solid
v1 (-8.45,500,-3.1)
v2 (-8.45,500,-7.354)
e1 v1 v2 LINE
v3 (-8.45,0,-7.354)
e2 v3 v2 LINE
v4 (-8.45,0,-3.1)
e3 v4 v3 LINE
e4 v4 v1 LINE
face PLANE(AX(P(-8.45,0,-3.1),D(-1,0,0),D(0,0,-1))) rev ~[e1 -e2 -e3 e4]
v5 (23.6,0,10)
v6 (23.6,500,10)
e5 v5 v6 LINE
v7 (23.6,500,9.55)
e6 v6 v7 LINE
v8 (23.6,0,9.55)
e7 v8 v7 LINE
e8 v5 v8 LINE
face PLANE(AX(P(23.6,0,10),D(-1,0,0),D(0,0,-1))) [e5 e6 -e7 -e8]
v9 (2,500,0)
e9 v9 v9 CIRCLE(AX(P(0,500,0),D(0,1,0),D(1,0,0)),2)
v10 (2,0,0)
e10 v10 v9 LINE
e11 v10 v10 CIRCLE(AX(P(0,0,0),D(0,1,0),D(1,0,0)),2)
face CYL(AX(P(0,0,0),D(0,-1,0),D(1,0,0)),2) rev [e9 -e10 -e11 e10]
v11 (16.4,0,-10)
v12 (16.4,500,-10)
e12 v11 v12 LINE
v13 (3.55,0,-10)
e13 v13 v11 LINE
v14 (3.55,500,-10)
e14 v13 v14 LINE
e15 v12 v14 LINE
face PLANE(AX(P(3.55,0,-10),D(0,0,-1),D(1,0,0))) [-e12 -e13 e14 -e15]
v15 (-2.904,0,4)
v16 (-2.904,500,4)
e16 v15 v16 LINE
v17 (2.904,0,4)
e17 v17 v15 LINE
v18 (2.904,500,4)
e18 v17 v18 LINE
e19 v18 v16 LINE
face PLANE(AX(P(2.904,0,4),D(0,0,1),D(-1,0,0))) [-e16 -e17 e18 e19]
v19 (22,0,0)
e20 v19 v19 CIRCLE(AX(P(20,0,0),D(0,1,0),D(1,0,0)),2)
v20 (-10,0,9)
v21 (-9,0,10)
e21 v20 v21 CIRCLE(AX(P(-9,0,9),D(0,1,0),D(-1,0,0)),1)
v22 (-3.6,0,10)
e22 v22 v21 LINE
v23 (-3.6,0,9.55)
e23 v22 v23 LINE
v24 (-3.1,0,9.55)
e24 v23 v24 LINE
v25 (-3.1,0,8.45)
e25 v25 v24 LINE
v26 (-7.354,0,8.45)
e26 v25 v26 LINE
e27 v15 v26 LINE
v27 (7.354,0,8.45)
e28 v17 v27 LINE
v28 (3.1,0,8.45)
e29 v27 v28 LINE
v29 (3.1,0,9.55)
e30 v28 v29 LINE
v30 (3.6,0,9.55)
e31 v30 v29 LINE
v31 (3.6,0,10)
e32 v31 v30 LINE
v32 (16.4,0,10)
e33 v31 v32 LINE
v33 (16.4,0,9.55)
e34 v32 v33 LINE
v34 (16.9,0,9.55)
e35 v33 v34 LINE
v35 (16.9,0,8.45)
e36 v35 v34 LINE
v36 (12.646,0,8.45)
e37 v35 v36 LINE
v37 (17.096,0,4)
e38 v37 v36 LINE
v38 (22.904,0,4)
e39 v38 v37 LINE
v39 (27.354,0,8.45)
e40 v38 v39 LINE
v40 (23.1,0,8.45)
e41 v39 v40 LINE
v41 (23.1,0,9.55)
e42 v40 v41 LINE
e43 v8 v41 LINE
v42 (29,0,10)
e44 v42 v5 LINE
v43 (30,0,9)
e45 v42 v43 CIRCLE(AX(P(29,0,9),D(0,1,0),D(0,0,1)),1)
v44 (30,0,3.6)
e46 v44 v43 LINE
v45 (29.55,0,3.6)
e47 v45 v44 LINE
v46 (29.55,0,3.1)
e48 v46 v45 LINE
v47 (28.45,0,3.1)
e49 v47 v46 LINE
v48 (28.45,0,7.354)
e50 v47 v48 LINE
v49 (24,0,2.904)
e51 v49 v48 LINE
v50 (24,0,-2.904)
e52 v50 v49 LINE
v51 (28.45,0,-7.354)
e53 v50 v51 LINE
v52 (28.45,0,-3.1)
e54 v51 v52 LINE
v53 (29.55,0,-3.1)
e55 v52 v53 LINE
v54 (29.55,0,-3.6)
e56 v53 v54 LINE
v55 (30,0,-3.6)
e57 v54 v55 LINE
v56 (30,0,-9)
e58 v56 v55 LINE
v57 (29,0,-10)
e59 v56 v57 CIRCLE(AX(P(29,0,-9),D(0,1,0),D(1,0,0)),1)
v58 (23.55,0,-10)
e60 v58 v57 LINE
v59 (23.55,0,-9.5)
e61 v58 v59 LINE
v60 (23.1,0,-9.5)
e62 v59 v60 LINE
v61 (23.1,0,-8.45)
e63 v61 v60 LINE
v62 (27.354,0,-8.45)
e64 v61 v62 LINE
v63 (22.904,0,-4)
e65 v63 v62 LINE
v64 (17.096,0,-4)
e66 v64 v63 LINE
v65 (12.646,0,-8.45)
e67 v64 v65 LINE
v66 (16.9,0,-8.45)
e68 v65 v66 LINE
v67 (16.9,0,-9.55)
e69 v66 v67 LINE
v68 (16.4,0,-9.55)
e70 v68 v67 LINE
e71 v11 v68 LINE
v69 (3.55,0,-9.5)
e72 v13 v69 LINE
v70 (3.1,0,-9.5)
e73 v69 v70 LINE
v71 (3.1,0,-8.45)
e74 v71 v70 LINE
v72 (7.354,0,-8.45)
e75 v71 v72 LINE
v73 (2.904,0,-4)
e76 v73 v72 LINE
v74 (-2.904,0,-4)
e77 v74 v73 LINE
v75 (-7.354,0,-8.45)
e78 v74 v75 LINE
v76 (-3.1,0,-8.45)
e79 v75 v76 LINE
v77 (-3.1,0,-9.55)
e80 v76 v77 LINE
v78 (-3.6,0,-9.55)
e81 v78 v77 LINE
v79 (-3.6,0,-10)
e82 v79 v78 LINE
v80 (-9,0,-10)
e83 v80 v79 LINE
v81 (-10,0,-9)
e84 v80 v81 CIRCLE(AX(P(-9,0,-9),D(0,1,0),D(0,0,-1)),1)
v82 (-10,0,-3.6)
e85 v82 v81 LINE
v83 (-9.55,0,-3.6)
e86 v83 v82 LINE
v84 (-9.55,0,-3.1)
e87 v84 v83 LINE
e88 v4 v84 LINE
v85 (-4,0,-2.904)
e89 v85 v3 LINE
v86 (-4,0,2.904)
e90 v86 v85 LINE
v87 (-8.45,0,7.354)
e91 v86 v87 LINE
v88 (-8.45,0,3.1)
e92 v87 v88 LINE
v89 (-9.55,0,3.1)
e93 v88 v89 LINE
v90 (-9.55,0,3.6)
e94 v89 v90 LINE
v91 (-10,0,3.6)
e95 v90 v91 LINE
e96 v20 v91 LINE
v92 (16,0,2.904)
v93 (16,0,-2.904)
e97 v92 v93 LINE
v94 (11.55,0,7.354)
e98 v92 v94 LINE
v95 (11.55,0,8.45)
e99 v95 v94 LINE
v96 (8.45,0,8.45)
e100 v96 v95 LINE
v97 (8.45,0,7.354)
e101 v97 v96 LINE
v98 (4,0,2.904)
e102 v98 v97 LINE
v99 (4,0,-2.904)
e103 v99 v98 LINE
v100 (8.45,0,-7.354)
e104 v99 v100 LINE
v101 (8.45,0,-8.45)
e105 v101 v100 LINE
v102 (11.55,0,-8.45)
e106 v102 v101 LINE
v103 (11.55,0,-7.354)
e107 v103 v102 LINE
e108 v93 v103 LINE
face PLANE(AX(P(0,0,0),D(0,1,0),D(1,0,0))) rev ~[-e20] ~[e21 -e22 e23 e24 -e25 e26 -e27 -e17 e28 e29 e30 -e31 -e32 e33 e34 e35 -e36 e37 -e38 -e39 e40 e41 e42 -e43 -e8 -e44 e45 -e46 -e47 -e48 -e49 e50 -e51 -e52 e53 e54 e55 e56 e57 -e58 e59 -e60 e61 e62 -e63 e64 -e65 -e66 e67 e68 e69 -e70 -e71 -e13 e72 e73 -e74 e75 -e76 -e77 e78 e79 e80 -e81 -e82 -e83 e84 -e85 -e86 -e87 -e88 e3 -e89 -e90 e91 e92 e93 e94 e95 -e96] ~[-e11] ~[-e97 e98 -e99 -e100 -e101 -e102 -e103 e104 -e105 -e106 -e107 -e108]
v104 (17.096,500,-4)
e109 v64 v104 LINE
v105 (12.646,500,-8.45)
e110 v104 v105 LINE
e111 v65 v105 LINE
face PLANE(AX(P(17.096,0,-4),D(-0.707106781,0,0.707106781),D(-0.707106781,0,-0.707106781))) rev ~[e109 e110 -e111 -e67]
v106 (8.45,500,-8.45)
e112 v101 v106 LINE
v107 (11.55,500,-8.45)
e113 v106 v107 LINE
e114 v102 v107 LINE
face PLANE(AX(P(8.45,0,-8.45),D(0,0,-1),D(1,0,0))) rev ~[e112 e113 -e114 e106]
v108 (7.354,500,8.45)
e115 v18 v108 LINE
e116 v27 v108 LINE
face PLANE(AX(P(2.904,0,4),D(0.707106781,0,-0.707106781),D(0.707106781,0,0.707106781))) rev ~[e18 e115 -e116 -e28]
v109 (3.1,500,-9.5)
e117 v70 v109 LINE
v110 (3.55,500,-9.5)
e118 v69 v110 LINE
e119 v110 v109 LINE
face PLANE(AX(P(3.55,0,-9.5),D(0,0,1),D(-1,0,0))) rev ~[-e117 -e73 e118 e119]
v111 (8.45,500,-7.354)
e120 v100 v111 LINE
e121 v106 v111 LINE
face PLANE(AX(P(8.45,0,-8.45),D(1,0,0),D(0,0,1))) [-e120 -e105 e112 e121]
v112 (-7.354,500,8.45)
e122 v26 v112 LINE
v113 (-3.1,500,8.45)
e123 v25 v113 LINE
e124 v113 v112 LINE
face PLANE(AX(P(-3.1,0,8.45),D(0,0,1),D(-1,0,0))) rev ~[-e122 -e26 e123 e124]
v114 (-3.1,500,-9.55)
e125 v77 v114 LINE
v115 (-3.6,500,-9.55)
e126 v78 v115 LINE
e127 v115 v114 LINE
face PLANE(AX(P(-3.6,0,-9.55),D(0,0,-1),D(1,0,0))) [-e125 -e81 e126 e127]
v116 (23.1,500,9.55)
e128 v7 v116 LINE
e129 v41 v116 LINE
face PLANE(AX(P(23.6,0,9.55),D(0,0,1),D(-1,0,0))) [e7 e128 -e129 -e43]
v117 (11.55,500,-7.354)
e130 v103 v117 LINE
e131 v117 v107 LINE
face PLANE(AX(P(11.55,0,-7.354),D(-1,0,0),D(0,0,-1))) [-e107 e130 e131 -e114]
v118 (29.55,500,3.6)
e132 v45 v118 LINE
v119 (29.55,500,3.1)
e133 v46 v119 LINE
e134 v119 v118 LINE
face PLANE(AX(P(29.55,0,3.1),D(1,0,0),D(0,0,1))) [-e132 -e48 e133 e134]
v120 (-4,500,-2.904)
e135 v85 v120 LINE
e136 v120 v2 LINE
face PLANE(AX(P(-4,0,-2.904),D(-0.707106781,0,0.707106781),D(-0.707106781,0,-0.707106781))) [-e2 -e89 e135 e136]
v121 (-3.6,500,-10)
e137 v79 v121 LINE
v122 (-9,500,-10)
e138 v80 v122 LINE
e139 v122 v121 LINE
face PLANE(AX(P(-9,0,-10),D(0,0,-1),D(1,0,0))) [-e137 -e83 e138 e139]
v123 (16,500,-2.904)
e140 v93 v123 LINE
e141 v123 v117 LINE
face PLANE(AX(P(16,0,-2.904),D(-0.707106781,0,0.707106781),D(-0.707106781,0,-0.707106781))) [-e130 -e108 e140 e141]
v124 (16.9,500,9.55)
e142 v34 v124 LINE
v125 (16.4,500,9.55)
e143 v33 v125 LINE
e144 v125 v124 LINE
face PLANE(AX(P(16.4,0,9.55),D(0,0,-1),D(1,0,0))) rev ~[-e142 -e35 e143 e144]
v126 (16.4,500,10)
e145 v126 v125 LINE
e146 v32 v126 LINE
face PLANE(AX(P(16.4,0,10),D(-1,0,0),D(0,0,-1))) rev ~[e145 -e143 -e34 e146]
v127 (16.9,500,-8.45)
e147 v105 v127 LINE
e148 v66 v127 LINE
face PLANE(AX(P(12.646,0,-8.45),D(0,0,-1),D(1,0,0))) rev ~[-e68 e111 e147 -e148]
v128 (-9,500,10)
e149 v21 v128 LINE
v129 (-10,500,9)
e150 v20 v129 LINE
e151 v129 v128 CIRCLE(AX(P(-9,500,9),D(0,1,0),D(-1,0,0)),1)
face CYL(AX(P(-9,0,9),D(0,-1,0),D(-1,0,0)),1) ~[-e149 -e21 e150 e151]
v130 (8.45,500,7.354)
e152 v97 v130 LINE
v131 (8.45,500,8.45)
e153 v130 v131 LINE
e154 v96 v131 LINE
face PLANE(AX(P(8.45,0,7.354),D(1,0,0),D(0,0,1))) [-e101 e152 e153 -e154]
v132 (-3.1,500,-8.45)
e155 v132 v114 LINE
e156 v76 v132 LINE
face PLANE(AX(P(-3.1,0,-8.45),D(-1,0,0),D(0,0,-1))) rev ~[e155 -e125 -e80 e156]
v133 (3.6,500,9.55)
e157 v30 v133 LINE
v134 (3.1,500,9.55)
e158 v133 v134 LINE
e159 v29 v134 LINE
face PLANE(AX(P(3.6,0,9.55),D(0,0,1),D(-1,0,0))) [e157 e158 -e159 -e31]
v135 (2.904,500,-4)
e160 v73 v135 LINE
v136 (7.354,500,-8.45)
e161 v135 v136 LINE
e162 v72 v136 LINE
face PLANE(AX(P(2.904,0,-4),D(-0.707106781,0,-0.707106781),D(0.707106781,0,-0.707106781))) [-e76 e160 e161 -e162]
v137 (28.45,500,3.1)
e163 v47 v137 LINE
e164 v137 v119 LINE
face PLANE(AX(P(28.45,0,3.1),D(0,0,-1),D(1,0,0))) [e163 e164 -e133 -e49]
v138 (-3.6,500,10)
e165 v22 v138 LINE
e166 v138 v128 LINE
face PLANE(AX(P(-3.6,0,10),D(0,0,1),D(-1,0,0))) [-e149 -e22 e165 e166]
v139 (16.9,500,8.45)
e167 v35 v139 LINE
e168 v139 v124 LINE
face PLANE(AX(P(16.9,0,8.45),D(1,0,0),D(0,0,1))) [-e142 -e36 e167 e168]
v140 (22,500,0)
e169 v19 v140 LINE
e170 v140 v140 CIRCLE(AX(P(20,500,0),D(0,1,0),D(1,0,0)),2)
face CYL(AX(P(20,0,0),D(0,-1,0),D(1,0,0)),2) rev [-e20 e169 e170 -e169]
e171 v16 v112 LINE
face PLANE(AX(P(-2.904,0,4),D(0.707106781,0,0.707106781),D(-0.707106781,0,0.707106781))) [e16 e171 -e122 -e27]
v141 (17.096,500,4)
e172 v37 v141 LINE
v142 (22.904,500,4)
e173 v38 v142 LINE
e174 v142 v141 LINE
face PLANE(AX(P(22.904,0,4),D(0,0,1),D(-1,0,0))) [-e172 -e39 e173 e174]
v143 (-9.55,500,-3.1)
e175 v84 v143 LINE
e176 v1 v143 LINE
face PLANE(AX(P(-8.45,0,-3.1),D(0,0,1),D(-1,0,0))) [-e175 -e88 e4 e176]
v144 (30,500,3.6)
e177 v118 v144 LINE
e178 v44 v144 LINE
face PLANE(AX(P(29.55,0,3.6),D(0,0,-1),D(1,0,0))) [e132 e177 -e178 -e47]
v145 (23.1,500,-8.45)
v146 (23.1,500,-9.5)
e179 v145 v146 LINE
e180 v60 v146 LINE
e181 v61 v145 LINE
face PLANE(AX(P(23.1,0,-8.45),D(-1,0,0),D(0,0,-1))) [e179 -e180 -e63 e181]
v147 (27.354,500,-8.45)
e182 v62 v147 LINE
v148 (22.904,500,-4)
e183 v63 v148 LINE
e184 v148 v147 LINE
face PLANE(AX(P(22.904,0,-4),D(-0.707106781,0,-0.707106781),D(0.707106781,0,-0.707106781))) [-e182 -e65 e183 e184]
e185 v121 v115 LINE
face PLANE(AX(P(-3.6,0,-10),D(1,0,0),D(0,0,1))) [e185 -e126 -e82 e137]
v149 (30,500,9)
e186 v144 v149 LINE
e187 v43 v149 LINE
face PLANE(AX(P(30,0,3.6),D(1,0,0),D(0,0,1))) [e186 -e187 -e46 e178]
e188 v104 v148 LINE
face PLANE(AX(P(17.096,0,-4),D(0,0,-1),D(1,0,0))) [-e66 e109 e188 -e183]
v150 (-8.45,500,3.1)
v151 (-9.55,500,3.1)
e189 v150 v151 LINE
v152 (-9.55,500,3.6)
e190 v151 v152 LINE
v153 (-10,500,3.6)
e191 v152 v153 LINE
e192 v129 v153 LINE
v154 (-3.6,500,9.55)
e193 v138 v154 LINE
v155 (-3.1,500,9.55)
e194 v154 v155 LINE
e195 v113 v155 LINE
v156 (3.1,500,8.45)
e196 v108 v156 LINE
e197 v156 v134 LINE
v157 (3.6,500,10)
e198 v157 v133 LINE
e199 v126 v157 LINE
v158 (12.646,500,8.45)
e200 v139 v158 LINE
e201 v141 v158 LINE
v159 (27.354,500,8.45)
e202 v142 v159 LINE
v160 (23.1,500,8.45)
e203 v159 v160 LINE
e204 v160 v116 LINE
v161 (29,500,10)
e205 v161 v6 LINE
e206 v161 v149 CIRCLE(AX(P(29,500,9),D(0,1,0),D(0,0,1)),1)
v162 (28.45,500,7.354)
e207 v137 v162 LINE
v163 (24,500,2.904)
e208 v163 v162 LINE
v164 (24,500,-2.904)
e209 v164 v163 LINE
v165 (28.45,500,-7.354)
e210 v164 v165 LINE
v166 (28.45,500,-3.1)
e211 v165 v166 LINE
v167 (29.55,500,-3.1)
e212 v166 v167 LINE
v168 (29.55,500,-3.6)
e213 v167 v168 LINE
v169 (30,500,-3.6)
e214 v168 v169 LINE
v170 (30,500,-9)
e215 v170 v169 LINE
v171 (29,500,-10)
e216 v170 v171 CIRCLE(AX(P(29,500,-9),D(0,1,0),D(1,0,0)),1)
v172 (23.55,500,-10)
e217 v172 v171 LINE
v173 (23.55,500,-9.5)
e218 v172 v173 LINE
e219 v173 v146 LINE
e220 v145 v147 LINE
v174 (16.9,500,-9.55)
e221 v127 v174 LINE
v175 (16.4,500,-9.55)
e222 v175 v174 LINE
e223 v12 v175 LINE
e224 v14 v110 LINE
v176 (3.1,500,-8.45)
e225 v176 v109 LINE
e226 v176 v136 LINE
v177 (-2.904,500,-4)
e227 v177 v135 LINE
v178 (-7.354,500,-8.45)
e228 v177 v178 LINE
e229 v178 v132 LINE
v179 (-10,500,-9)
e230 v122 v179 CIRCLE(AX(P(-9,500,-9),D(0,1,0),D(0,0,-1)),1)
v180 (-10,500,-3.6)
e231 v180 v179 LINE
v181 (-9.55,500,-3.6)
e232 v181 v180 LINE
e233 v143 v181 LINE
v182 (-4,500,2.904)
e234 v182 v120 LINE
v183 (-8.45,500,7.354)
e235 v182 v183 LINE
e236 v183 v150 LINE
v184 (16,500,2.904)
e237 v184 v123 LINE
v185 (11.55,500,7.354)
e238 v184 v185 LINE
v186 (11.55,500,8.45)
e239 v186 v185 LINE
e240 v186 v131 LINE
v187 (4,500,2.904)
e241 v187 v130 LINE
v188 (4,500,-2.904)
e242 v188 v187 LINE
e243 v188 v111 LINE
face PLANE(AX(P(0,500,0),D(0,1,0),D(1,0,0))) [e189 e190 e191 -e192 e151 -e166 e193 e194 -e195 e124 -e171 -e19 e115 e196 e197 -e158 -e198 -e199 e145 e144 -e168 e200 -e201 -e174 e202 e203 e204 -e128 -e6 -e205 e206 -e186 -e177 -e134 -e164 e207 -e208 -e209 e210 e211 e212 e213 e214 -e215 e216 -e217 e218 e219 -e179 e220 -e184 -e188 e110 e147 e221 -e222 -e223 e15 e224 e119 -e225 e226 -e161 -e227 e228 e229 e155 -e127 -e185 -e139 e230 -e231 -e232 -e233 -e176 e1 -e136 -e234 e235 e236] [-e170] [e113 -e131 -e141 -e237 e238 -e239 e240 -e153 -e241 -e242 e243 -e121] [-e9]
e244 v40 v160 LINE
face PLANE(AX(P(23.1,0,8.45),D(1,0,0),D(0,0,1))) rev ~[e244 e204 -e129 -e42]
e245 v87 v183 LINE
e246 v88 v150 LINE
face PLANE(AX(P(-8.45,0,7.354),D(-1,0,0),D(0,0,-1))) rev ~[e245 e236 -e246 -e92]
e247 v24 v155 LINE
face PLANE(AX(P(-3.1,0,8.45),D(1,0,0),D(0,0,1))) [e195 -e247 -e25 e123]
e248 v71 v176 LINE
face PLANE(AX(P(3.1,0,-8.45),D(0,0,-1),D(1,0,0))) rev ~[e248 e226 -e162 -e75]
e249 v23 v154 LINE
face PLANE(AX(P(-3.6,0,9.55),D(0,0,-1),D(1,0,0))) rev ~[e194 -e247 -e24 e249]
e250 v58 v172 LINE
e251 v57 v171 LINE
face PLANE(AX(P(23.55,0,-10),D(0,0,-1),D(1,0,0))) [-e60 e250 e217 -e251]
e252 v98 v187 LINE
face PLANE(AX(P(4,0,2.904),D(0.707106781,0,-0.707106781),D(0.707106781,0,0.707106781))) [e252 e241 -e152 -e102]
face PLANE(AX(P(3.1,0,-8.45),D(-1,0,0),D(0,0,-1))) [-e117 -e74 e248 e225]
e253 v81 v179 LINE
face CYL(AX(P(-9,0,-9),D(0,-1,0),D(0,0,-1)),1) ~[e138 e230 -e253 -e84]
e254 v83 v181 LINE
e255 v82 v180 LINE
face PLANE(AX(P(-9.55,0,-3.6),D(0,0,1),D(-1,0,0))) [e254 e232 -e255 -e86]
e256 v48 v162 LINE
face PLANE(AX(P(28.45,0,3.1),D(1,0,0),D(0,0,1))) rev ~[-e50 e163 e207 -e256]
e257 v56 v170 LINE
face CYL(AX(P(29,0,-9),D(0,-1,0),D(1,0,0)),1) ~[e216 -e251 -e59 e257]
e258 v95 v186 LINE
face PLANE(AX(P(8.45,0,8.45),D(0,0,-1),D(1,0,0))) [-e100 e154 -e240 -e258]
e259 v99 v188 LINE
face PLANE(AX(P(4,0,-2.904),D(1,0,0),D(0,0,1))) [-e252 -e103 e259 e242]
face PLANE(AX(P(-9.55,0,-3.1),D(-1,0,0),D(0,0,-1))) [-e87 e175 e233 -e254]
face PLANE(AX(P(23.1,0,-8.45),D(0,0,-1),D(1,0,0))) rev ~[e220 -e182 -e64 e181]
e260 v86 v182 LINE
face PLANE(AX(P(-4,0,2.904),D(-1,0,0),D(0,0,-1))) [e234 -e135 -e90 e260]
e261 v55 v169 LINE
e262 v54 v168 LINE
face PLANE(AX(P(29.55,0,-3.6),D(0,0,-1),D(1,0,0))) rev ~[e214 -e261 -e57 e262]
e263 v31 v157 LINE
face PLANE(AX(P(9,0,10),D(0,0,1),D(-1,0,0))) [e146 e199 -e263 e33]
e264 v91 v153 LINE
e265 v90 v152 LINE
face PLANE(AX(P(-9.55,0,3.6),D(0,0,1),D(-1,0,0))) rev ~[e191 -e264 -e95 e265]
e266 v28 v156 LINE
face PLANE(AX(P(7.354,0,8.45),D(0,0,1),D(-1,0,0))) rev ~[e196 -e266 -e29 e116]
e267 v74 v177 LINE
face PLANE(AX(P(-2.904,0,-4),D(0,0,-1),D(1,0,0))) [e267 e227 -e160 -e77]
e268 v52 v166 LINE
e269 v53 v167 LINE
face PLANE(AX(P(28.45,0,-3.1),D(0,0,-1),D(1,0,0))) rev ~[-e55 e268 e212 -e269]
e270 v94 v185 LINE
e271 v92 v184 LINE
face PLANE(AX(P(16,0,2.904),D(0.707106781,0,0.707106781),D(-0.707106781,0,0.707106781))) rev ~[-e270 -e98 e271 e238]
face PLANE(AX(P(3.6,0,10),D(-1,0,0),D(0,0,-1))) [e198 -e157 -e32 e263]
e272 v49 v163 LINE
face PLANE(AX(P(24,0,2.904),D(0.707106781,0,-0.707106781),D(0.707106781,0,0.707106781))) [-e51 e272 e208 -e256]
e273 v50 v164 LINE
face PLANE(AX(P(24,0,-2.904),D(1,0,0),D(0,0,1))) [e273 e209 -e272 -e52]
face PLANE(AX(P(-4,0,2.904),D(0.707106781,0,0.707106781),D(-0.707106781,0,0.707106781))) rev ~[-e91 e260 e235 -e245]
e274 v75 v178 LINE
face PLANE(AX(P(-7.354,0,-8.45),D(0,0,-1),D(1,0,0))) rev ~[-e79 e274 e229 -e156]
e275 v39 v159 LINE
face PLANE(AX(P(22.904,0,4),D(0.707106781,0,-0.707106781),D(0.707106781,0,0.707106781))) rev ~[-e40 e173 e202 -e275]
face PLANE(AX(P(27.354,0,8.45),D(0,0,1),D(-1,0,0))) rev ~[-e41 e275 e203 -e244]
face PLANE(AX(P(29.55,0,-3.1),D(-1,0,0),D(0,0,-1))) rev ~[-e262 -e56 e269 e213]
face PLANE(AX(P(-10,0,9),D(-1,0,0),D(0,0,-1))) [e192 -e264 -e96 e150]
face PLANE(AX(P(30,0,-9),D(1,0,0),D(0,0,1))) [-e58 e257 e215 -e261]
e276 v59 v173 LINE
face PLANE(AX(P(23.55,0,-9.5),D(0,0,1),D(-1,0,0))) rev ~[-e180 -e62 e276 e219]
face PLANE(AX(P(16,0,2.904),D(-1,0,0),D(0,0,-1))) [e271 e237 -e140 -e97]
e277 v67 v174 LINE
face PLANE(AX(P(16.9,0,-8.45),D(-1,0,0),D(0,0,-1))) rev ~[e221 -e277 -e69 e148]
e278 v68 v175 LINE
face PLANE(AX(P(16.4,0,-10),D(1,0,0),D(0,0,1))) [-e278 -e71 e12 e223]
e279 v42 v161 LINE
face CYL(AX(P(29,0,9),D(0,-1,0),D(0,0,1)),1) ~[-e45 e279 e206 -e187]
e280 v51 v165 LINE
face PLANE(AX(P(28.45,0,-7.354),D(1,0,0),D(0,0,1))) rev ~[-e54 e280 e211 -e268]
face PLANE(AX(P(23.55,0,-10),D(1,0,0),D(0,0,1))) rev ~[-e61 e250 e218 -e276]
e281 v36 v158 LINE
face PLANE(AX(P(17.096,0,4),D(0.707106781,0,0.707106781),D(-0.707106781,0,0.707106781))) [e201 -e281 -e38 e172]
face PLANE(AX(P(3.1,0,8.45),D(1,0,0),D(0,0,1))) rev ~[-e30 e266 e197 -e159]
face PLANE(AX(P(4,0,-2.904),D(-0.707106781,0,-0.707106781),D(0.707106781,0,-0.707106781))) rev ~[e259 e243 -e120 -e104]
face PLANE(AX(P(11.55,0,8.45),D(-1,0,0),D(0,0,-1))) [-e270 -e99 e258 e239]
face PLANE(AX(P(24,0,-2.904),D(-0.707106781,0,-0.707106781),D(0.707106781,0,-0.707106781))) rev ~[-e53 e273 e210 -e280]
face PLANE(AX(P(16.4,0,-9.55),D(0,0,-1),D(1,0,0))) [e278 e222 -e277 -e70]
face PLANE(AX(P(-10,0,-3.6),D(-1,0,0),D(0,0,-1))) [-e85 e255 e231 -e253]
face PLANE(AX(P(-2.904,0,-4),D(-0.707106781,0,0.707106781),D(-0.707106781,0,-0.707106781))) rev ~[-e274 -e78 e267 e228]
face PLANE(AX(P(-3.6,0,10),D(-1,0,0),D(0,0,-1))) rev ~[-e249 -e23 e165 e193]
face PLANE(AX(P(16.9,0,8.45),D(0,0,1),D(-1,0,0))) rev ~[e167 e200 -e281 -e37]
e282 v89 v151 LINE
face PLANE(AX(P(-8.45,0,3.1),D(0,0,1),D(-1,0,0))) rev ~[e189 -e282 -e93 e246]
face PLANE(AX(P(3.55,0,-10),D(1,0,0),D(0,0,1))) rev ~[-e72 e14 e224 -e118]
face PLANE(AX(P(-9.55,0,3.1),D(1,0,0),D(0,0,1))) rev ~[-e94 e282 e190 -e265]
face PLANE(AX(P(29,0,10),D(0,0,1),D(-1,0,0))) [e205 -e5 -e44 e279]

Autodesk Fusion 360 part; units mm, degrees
sketch "Sketch1" plane through (0, 0, 0) normal (0, 1, 0) x (1, 0, 0)
  line L0 (9, -10) -> (-9, -10)
  line L1 (-10, -9) -> (-10, 9)
  line L2 (-9, 10) -> (9, 10)
  line L3 (10, 9) -> (10, -9)
  line L4 (10, -10) -> (-10, 10) construction
  line L5 (-10, -10) -> (10, 10) construction
  line L6 (4, -4) -> (-4, -4)
  line L7 (-4, -4) -> (-4, 4)
  line L8 (-4, 4) -> (4, 4)
  line L9 (4, 4) -> (4, -4)
  line L10 (4, -4) -> (-4, 4) construction
  line L11 (-4, -4) -> (4, 4) construction
  circle A0 centre (0, 0) radius 2
  line L12 (8.45, -8.45) -> (-8.45, -8.45)
  line L13 (-8.45, -8.45) -> (-8.45, 8.45)
  line L14 (-8.45, 8.45) -> (8.45, 8.45)
  line L15 (8.45, 8.45) -> (8.45, -8.45)
  line L16 (8.45, -8.45) -> (-8.45, 8.45) construction
  line L17 (-8.45, -8.45) -> (8.45, 8.45) construction
  line L18 (-9.452, -10.548) -> (10.548, 9.452) construction
  line L19 (-10.548, -9.452) -> (9.452, 10.548) construction
  line L20 (10.548, -9.452) -> (-9.452, 10.548) construction
  line L21 (9.452, -10.548) -> (-10.548, 9.452) construction
  line L22 (3.1, -10) -> (-3.1, -10) construction
  line L23 (-3.1, -10) -> (-3.1, 10) construction
  line L24 (-3.1, 10) -> (3.1, 10) construction
  line L25 (3.1, 10) -> (3.1, -10) construction
  line L26 (10, -3.1) -> (-10, -3.1) construction
  line L27 (-10, -3.1) -> (-10, 3.1) construction
  line L28 (-10, 3.1) -> (10, 3.1) construction
  line L29 (10, 3.1) -> (10, -3.1) construction
  line L30 (-3.1, -8.45) -> (-3.1, -10)
  line L31 (3.1, -8.45) -> (3.1, -10)
  line L32 (-8.45, -3.1) -> (-10, -3.1)
  line L33 (-8.45, 3.1) -> (-10, 3.1)
  line L34 (8.45, -3.1) -> (10, -3.1)
  line L35 (8.45, 3.1) -> (10, 3.1)
  line L36 (-3.1, 8.45) -> (-3.1, 10)
  line L37 (3.1, 8.45) -> (3.1, 10)
  line L38 (-4, 2.904) -> (-8.45, 7.354)
  line L39 (-2.904, 4) -> (-7.354, 8.45)
  line L40 (2.904, 4) -> (7.354, 8.45)
  line L41 (4, 2.904) -> (8.45, 7.354)
  line L42 (-4, -2.904) -> (-8.45, -7.354)
  line L43 (-2.904, -4) -> (-7.354, -8.45)
  line L44 (2.904, -4) -> (7.354, -8.45)
  line L45 (4, -2.904) -> (8.45, -7.354)
  line L46 (-10, -3.1) -> (-9.55, -3.1)
  line L47 (-9.55, -3.1) -> (-9.55, -3.6)
  line L48 (-9.55, -3.6) -> (-10, -3.6)
  line L49 (-10, -3.6) -> (-10, -3.1)
  line L50 (-10, 3.1) -> (-9.55, 3.1)
  line L51 (-9.55, 3.1) -> (-9.55, 3.6)
  line L52 (-9.55, 3.6) -> (-10, 3.6)
  line L53 (-10, 3.6) -> (-10, 3.1)
  line L54 (-3.1, -10) -> (-3.6, -10)
  line L55 (-3.6, -10) -> (-3.6, -9.55)
  line L56 (-3.6, -9.55) -> (-3.1, -9.55)
  line L57 (-3.1, -9.55) -> (-3.1, -10)
  line L58 (3.1, -10) -> (3.6, -10)
  line L59 (3.6, -10) -> (3.6, -9.55)
  line L60 (3.6, -9.55) -> (3.1, -9.55)
  line L61 (3.1, -9.55) -> (3.1, -10)
  line L62 (10, -3.1) -> (9.55, -3.1)
  line L63 (9.55, -3.1) -> (9.55, -3.6)
  line L64 (9.55, -3.6) -> (10, -3.6)
  line L65 (10, -3.6) -> (10, -3.1)
  line L66 (10, 3.1) -> (9.55, 3.1)
  line L67 (9.55, 3.1) -> (9.55, 3.6)
  line L68 (9.55, 3.6) -> (10, 3.6)
  line L69 (10, 3.6) -> (10, 3.1)
  line L70 (-3.1, 10) -> (-3.6, 10)
  line L71 (-3.6, 10) -> (-3.6, 9.55)
  line L72 (-3.6, 9.55) -> (-3.1, 9.55)
  line L73 (-3.1, 9.55) -> (-3.1, 10)
  line L74 (3.1, 10) -> (3.55, 10)
  line L75 (3.55, 10) -> (3.55, 9.5)
  line L76 (3.55, 9.5) -> (3.1, 9.5)
  line L77 (3.1, 9.5) -> (3.1, 10)
  arc A1 (-10, -9) -> (-9, -10) centre (-9, -9) ccw
  arc A2 (9, -10) -> (10, -9) centre (9, -9) ccw
  arc A3 (10, 9) -> (9, 10) centre (9, 9) ccw
  arc A4 (-9, 10) -> (-10, 9) centre (-9, 9) ccw
  arc A5 (29, -10) -> (30, -9) centre (29, -9) ccw
  line L78 (30, -3.1) -> (10, -3.1) construction
  line L79 (30, 9) -> (30, -9)
  line L80 (24, 4) -> (24, -4)
  line L81 (29.452, -10.548) -> (9.452, 9.452) construction
  line L82 (30, 3.1) -> (29.55, 3.1)
  line L83 (29, -10) -> (11, -10)
  line L84 (16, 4) -> (24, 4)
  line L85 (24, -4) -> (16, 4) construction
  line L86 (28.45, -8.45) -> (11.55, -8.45)
  circle A6 centre (20, 0) radius 2
  line L87 (10, -9) -> (10, 9)
  line L88 (10, -3.1) -> (10, 3.1) construction
  line L89 (16.9, 8.45) -> (16.9, 10)
  arc A7 (11, 10) -> (10, 9) centre (11, 9) ccw
  line L90 (17.096, -4) -> (12.646, -8.45)
  line L91 (16.9, -8.45) -> (16.9, -10)
  line L92 (16.4, -9.55) -> (16.9, -9.55)
  line L93 (10, -3.1) -> (10.45, -3.1)
  line L94 (10, 3.1) -> (10.45, 3.1)
  line L95 (10.45, 3.1) -> (10.45, 3.6)
  arc A8 (10, -9) -> (11, -10) centre (11, -9) ccw
  line L96 (10.45, -3.1) -> (10.45, -3.6)
  line L97 (16.9, -10) -> (16.9, 10) construction
  line L98 (10.45, -3.6) -> (10, -3.6)
  line L99 (29.55, 3.1) -> (29.55, 3.6)
  line L100 (16, -4) -> (16, 4)
  line L101 (23.1, -9.55) -> (23.1, -10)
  line L102 (28.45, -3.1) -> (30, -3.1)
  line L103 (30, -3.6) -> (30, -3.1)
  line L104 (22.904, -4) -> (27.354, -8.45)
  line L105 (22.904, 4) -> (27.354, 8.45)
  line L106 (23.1, 10) -> (23.1, -10) construction
  line L107 (16, -2.904) -> (11.55, -7.354)
  line L108 (16, 2.904) -> (11.55, 7.354)
  line L109 (16.4, 10) -> (16.4, 9.55)
  line L110 (17.096, 4) -> (12.646, 8.45)
  line L111 (10, -3.6) -> (10, -3.1)
  line L112 (16.9, -9.55) -> (16.9, -10)
  line L113 (23.1, 9.5) -> (23.1, 10)
  line L114 (23.6, -10) -> (23.6, -9.55)
  line L115 (10.45, 3.6) -> (10, 3.6)
  line L116 (24, -2.904) -> (28.45, -7.354)
  line L117 (23.55, 10) -> (23.55, 9.5)
  line L118 (10, 3.6) -> (10, 3.1)
  line L119 (11.55, 3.1) -> (10, 3.1)
  line L120 (11.55, -8.45) -> (11.55, 8.45)
  line L121 (23.1, -10) -> (23.6, -10)
  line L122 (11.55, -3.1) -> (10, -3.1)
  line L123 (29.55, -3.6) -> (30, -3.6)
  line L124 (16.4, 9.55) -> (16.9, 9.55)
  line L125 (23.1, 10) -> (23.55, 10)
  line L126 (16.9, 10) -> (16.4, 10)
  line L127 (16.4, -10) -> (16.4, -9.55)
  line L128 (10, 3.1) -> (30, 3.1) construction
  line L129 (24, 2.904) -> (28.45, 7.354)
  line L130 (23.55, 9.5) -> (23.1, 9.5)
  line L131 (23.1, -8.45) -> (23.1, -10)
  line L132 (16.9, 9.55) -> (16.9, 10)
  line L133 (23.1, -10) -> (16.9, -10) construction
  line L134 (30, -3.1) -> (29.55, -3.1)
  line L135 (30.548, -9.452) -> (10.548, 10.548) construction
  line L136 (23.6, -9.55) -> (23.1, -9.55)
  line L137 (29.55, -3.1) -> (29.55, -3.6)
  line L138 (16.9, 10) -> (23.1, 10) construction
  line L139 (30, 3.1) -> (30, -3.1) construction
  line L140 (23.1, 8.45) -> (23.1, 10)
  line L141 (16.9, -10) -> (16.4, -10)
  line L142 (24, -4) -> (16, -4)
  line L143 (16, -4) -> (24, 4) construction
  line L144 (10, -10) -> (30, 10) construction
  arc A9 (30, 9) -> (29, 10) centre (29, 9) ccw
  line L145 (11, 10) -> (29, 10)
  line L146 (28.45, 8.45) -> (28.45, -8.45)
  line L147 (9.452, -9.452) -> (29.452, 10.548) construction
  line L148 (30, 3.6) -> (30, 3.1)
  line L149 (28.45, 3.1) -> (30, 3.1)
  line L150 (11.55, -8.45) -> (28.45, 8.45) construction
  line L151 (11.55, 8.45) -> (28.45, 8.45)
  line L152 (29.55, 3.6) -> (30, 3.6)
  line L153 (30, -10) -> (10, 10) construction
  line L154 (28.45, -8.45) -> (11.55, 8.45) construction
  line L155 (10.548, -10.548) -> (30.548, 9.452) construction
  line L156 (9, -10) -> (11, -10)
  line L157 (9, 10) -> (11, 10)
  line L158 (8.45, -8.45) -> (11.55, -8.45)
  line L159 (8.45, 8.45) -> (11.55, 8.45)
  point P0 (20, 0)
  point P1 (20, 0)
  point P2 (20, 0)
  point P3 (20, 0)
  point P4 (20, 0)
  point P5 (20, 0)
  dimension "d1" = 20
  dimension "d2" = 20
  dimension "d3" = 8
  dimension "d4" = 8
  dimension "d5" = 4
  dimension "d6" = 16.9
  dimension "d7" = 16.9
  dimension "d8" = 0.775
  dimension "d9" = -0.775
  dimension "d10" = 0.775
  dimension "d11" = -0.775
  dimension "d12" = 6.2
  dimension "d13" = 20
  dimension "d14" = 20
  dimension "d15" = 6.2
  dimension "d16" = 1.55
  dimension "d17" = 1.55
  dimension "d18" = 1.55
  dimension "d19" = 1.55
  dimension "d20" = 1.55
  dimension "d21" = 1.55
  dimension "d22" = 1.55
  dimension "d23" = 1.55
  dimension "d24" = 0.45
  dimension "d25" = 0.5
  dimension "d26" = 0.45
  dimension "d27" = 0.5
  dimension "d28" = 0.5
  dimension "d29" = 0.45
  dimension "d30" = 0.5
  dimension "d31" = 0.45
  dimension "d32" = 0.45
  dimension "d33" = 0.5
  dimension "d34" = 0.45
  dimension "d35" = 0.5
  dimension "d36" = 0.5
  dimension "d37" = 0.45
  dimension "d38" = 0.45
  dimension "d39" = 0.5
  dimension "d40" = 1
  dimension "d41" = 1
  dimension "d42" = 1
  dimension "d43" = 1
  dimension "d48" = 0.775
  dimension "d49" = -0.775
  dimension "d50" = 0.775
  dimension "d51" = -0.775
  dimension "d52" = 20
  dimension "d53" = 20
  dimension "d54" = 8
  dimension "d55" = 8
  dimension "d56" = 4
  dimension "d57" = 16.9
  dimension "d58" = 16.9
  dimension "d59" = 6.2
  dimension "d60" = 20
  dimension "d61" = 20
  dimension "d62" = 6.2
  dimension "d63" = 1.55
  dimension "d64" = 1.55
  dimension "d65" = 1.55
  dimension "d66" = 1.55
  dimension "d67" = 1.55
  dimension "d68" = 1.55
  dimension "d69" = 1.55
  dimension "d70" = 1.55
  dimension "d71" = 0.45
  dimension "d72" = 0.5
  dimension "d73" = 0.45
  dimension "d74" = 0.5
  dimension "d75" = 0.5
  dimension "d76" = 0.45
  dimension "d77" = 0.5
  dimension "d78" = 0.45
  dimension "d79" = 0.45
  dimension "d80" = 0.5
  dimension "d81" = 0.45
  dimension "d82" = 0.5
  dimension "d83" = 0.5
  dimension "d84" = 0.45
  dimension "d85" = 0.45
  dimension "d86" = 0.5
  dimension "d87" = 1
  dimension "d88" = 1
  dimension "d89" = 1
  dimension "d90" = 1
extrude "Extrude2" add sketch "Sketch1" along normal blind 500 contours L0 L3 L12 L31 L59 L60 A2 L87 L158 | A2 A8 L156 | L3 L83 L86 L87 L91 L92 A8 L127 L158 | L6 L9 L12 L15 L44 L45 | L86 L90 L100 L107 L120 L142 | L0 L1 L12 L13 L30 L32 L47 L48 L55 L56 A1 | L6 L7 L8 L9 | L80 L84 L100 L142 | A5 L79 L83 L86 L102 L114 L123 L131 L136 L137 L146 | L6 L7 L12 L13 L42 L43 | L8 L9 L14 L15 L40 L41 | L80 L86 L104 L116 L142 L146 | L84 L100 L108 L110 L120 L151 | L2 L3 L14 L37 L75 L76 A3 L87 L159 | L3 L87 L89 A7 L109 L124 L145 L151 L159 | A3 A7 L157 | L7 L8 L13 L14 L38 L39 | L80 L84 L105 L129 L146 L151 | L1 L2 L13 L14 L33 L36 L51 L52 L71 L72 A4 | L79 L99 L117 L130 L140 A9 L145 L146 L149 L151 L152
equation "d6 = 20 mm - ( ( 1.55 * 2 ) * 1 mm )"
equation "d7 = 20 mm - ( ( 1.55 * 2 ) * 1 mm )"
equation "d8 = ( 1.55 / 2 ) * 1 mm"
equation "d9 = ( -1.55 / 2 ) * 1 mm"
equation "d10 = ( 1.55 / 2 ) * 1 mm"
equation "d11 = ( -1.55 / 2 ) * 1 mm"
equation "d48 = ( 1.55 / 2 ) * 1 mm"
equation "d49 = ( -1.55 / 2 ) * 1 mm"
equation "d50 = ( 1.55 / 2 ) * 1 mm"
equation "d51 = ( -1.55 / 2 ) * 1 mm"
equation "d57 = 20 mm - ( ( 1.55 * 2 ) * 1 mm )"
equation "d58 = 20 mm - ( ( 1.55 * 2 ) * 1 mm )"
